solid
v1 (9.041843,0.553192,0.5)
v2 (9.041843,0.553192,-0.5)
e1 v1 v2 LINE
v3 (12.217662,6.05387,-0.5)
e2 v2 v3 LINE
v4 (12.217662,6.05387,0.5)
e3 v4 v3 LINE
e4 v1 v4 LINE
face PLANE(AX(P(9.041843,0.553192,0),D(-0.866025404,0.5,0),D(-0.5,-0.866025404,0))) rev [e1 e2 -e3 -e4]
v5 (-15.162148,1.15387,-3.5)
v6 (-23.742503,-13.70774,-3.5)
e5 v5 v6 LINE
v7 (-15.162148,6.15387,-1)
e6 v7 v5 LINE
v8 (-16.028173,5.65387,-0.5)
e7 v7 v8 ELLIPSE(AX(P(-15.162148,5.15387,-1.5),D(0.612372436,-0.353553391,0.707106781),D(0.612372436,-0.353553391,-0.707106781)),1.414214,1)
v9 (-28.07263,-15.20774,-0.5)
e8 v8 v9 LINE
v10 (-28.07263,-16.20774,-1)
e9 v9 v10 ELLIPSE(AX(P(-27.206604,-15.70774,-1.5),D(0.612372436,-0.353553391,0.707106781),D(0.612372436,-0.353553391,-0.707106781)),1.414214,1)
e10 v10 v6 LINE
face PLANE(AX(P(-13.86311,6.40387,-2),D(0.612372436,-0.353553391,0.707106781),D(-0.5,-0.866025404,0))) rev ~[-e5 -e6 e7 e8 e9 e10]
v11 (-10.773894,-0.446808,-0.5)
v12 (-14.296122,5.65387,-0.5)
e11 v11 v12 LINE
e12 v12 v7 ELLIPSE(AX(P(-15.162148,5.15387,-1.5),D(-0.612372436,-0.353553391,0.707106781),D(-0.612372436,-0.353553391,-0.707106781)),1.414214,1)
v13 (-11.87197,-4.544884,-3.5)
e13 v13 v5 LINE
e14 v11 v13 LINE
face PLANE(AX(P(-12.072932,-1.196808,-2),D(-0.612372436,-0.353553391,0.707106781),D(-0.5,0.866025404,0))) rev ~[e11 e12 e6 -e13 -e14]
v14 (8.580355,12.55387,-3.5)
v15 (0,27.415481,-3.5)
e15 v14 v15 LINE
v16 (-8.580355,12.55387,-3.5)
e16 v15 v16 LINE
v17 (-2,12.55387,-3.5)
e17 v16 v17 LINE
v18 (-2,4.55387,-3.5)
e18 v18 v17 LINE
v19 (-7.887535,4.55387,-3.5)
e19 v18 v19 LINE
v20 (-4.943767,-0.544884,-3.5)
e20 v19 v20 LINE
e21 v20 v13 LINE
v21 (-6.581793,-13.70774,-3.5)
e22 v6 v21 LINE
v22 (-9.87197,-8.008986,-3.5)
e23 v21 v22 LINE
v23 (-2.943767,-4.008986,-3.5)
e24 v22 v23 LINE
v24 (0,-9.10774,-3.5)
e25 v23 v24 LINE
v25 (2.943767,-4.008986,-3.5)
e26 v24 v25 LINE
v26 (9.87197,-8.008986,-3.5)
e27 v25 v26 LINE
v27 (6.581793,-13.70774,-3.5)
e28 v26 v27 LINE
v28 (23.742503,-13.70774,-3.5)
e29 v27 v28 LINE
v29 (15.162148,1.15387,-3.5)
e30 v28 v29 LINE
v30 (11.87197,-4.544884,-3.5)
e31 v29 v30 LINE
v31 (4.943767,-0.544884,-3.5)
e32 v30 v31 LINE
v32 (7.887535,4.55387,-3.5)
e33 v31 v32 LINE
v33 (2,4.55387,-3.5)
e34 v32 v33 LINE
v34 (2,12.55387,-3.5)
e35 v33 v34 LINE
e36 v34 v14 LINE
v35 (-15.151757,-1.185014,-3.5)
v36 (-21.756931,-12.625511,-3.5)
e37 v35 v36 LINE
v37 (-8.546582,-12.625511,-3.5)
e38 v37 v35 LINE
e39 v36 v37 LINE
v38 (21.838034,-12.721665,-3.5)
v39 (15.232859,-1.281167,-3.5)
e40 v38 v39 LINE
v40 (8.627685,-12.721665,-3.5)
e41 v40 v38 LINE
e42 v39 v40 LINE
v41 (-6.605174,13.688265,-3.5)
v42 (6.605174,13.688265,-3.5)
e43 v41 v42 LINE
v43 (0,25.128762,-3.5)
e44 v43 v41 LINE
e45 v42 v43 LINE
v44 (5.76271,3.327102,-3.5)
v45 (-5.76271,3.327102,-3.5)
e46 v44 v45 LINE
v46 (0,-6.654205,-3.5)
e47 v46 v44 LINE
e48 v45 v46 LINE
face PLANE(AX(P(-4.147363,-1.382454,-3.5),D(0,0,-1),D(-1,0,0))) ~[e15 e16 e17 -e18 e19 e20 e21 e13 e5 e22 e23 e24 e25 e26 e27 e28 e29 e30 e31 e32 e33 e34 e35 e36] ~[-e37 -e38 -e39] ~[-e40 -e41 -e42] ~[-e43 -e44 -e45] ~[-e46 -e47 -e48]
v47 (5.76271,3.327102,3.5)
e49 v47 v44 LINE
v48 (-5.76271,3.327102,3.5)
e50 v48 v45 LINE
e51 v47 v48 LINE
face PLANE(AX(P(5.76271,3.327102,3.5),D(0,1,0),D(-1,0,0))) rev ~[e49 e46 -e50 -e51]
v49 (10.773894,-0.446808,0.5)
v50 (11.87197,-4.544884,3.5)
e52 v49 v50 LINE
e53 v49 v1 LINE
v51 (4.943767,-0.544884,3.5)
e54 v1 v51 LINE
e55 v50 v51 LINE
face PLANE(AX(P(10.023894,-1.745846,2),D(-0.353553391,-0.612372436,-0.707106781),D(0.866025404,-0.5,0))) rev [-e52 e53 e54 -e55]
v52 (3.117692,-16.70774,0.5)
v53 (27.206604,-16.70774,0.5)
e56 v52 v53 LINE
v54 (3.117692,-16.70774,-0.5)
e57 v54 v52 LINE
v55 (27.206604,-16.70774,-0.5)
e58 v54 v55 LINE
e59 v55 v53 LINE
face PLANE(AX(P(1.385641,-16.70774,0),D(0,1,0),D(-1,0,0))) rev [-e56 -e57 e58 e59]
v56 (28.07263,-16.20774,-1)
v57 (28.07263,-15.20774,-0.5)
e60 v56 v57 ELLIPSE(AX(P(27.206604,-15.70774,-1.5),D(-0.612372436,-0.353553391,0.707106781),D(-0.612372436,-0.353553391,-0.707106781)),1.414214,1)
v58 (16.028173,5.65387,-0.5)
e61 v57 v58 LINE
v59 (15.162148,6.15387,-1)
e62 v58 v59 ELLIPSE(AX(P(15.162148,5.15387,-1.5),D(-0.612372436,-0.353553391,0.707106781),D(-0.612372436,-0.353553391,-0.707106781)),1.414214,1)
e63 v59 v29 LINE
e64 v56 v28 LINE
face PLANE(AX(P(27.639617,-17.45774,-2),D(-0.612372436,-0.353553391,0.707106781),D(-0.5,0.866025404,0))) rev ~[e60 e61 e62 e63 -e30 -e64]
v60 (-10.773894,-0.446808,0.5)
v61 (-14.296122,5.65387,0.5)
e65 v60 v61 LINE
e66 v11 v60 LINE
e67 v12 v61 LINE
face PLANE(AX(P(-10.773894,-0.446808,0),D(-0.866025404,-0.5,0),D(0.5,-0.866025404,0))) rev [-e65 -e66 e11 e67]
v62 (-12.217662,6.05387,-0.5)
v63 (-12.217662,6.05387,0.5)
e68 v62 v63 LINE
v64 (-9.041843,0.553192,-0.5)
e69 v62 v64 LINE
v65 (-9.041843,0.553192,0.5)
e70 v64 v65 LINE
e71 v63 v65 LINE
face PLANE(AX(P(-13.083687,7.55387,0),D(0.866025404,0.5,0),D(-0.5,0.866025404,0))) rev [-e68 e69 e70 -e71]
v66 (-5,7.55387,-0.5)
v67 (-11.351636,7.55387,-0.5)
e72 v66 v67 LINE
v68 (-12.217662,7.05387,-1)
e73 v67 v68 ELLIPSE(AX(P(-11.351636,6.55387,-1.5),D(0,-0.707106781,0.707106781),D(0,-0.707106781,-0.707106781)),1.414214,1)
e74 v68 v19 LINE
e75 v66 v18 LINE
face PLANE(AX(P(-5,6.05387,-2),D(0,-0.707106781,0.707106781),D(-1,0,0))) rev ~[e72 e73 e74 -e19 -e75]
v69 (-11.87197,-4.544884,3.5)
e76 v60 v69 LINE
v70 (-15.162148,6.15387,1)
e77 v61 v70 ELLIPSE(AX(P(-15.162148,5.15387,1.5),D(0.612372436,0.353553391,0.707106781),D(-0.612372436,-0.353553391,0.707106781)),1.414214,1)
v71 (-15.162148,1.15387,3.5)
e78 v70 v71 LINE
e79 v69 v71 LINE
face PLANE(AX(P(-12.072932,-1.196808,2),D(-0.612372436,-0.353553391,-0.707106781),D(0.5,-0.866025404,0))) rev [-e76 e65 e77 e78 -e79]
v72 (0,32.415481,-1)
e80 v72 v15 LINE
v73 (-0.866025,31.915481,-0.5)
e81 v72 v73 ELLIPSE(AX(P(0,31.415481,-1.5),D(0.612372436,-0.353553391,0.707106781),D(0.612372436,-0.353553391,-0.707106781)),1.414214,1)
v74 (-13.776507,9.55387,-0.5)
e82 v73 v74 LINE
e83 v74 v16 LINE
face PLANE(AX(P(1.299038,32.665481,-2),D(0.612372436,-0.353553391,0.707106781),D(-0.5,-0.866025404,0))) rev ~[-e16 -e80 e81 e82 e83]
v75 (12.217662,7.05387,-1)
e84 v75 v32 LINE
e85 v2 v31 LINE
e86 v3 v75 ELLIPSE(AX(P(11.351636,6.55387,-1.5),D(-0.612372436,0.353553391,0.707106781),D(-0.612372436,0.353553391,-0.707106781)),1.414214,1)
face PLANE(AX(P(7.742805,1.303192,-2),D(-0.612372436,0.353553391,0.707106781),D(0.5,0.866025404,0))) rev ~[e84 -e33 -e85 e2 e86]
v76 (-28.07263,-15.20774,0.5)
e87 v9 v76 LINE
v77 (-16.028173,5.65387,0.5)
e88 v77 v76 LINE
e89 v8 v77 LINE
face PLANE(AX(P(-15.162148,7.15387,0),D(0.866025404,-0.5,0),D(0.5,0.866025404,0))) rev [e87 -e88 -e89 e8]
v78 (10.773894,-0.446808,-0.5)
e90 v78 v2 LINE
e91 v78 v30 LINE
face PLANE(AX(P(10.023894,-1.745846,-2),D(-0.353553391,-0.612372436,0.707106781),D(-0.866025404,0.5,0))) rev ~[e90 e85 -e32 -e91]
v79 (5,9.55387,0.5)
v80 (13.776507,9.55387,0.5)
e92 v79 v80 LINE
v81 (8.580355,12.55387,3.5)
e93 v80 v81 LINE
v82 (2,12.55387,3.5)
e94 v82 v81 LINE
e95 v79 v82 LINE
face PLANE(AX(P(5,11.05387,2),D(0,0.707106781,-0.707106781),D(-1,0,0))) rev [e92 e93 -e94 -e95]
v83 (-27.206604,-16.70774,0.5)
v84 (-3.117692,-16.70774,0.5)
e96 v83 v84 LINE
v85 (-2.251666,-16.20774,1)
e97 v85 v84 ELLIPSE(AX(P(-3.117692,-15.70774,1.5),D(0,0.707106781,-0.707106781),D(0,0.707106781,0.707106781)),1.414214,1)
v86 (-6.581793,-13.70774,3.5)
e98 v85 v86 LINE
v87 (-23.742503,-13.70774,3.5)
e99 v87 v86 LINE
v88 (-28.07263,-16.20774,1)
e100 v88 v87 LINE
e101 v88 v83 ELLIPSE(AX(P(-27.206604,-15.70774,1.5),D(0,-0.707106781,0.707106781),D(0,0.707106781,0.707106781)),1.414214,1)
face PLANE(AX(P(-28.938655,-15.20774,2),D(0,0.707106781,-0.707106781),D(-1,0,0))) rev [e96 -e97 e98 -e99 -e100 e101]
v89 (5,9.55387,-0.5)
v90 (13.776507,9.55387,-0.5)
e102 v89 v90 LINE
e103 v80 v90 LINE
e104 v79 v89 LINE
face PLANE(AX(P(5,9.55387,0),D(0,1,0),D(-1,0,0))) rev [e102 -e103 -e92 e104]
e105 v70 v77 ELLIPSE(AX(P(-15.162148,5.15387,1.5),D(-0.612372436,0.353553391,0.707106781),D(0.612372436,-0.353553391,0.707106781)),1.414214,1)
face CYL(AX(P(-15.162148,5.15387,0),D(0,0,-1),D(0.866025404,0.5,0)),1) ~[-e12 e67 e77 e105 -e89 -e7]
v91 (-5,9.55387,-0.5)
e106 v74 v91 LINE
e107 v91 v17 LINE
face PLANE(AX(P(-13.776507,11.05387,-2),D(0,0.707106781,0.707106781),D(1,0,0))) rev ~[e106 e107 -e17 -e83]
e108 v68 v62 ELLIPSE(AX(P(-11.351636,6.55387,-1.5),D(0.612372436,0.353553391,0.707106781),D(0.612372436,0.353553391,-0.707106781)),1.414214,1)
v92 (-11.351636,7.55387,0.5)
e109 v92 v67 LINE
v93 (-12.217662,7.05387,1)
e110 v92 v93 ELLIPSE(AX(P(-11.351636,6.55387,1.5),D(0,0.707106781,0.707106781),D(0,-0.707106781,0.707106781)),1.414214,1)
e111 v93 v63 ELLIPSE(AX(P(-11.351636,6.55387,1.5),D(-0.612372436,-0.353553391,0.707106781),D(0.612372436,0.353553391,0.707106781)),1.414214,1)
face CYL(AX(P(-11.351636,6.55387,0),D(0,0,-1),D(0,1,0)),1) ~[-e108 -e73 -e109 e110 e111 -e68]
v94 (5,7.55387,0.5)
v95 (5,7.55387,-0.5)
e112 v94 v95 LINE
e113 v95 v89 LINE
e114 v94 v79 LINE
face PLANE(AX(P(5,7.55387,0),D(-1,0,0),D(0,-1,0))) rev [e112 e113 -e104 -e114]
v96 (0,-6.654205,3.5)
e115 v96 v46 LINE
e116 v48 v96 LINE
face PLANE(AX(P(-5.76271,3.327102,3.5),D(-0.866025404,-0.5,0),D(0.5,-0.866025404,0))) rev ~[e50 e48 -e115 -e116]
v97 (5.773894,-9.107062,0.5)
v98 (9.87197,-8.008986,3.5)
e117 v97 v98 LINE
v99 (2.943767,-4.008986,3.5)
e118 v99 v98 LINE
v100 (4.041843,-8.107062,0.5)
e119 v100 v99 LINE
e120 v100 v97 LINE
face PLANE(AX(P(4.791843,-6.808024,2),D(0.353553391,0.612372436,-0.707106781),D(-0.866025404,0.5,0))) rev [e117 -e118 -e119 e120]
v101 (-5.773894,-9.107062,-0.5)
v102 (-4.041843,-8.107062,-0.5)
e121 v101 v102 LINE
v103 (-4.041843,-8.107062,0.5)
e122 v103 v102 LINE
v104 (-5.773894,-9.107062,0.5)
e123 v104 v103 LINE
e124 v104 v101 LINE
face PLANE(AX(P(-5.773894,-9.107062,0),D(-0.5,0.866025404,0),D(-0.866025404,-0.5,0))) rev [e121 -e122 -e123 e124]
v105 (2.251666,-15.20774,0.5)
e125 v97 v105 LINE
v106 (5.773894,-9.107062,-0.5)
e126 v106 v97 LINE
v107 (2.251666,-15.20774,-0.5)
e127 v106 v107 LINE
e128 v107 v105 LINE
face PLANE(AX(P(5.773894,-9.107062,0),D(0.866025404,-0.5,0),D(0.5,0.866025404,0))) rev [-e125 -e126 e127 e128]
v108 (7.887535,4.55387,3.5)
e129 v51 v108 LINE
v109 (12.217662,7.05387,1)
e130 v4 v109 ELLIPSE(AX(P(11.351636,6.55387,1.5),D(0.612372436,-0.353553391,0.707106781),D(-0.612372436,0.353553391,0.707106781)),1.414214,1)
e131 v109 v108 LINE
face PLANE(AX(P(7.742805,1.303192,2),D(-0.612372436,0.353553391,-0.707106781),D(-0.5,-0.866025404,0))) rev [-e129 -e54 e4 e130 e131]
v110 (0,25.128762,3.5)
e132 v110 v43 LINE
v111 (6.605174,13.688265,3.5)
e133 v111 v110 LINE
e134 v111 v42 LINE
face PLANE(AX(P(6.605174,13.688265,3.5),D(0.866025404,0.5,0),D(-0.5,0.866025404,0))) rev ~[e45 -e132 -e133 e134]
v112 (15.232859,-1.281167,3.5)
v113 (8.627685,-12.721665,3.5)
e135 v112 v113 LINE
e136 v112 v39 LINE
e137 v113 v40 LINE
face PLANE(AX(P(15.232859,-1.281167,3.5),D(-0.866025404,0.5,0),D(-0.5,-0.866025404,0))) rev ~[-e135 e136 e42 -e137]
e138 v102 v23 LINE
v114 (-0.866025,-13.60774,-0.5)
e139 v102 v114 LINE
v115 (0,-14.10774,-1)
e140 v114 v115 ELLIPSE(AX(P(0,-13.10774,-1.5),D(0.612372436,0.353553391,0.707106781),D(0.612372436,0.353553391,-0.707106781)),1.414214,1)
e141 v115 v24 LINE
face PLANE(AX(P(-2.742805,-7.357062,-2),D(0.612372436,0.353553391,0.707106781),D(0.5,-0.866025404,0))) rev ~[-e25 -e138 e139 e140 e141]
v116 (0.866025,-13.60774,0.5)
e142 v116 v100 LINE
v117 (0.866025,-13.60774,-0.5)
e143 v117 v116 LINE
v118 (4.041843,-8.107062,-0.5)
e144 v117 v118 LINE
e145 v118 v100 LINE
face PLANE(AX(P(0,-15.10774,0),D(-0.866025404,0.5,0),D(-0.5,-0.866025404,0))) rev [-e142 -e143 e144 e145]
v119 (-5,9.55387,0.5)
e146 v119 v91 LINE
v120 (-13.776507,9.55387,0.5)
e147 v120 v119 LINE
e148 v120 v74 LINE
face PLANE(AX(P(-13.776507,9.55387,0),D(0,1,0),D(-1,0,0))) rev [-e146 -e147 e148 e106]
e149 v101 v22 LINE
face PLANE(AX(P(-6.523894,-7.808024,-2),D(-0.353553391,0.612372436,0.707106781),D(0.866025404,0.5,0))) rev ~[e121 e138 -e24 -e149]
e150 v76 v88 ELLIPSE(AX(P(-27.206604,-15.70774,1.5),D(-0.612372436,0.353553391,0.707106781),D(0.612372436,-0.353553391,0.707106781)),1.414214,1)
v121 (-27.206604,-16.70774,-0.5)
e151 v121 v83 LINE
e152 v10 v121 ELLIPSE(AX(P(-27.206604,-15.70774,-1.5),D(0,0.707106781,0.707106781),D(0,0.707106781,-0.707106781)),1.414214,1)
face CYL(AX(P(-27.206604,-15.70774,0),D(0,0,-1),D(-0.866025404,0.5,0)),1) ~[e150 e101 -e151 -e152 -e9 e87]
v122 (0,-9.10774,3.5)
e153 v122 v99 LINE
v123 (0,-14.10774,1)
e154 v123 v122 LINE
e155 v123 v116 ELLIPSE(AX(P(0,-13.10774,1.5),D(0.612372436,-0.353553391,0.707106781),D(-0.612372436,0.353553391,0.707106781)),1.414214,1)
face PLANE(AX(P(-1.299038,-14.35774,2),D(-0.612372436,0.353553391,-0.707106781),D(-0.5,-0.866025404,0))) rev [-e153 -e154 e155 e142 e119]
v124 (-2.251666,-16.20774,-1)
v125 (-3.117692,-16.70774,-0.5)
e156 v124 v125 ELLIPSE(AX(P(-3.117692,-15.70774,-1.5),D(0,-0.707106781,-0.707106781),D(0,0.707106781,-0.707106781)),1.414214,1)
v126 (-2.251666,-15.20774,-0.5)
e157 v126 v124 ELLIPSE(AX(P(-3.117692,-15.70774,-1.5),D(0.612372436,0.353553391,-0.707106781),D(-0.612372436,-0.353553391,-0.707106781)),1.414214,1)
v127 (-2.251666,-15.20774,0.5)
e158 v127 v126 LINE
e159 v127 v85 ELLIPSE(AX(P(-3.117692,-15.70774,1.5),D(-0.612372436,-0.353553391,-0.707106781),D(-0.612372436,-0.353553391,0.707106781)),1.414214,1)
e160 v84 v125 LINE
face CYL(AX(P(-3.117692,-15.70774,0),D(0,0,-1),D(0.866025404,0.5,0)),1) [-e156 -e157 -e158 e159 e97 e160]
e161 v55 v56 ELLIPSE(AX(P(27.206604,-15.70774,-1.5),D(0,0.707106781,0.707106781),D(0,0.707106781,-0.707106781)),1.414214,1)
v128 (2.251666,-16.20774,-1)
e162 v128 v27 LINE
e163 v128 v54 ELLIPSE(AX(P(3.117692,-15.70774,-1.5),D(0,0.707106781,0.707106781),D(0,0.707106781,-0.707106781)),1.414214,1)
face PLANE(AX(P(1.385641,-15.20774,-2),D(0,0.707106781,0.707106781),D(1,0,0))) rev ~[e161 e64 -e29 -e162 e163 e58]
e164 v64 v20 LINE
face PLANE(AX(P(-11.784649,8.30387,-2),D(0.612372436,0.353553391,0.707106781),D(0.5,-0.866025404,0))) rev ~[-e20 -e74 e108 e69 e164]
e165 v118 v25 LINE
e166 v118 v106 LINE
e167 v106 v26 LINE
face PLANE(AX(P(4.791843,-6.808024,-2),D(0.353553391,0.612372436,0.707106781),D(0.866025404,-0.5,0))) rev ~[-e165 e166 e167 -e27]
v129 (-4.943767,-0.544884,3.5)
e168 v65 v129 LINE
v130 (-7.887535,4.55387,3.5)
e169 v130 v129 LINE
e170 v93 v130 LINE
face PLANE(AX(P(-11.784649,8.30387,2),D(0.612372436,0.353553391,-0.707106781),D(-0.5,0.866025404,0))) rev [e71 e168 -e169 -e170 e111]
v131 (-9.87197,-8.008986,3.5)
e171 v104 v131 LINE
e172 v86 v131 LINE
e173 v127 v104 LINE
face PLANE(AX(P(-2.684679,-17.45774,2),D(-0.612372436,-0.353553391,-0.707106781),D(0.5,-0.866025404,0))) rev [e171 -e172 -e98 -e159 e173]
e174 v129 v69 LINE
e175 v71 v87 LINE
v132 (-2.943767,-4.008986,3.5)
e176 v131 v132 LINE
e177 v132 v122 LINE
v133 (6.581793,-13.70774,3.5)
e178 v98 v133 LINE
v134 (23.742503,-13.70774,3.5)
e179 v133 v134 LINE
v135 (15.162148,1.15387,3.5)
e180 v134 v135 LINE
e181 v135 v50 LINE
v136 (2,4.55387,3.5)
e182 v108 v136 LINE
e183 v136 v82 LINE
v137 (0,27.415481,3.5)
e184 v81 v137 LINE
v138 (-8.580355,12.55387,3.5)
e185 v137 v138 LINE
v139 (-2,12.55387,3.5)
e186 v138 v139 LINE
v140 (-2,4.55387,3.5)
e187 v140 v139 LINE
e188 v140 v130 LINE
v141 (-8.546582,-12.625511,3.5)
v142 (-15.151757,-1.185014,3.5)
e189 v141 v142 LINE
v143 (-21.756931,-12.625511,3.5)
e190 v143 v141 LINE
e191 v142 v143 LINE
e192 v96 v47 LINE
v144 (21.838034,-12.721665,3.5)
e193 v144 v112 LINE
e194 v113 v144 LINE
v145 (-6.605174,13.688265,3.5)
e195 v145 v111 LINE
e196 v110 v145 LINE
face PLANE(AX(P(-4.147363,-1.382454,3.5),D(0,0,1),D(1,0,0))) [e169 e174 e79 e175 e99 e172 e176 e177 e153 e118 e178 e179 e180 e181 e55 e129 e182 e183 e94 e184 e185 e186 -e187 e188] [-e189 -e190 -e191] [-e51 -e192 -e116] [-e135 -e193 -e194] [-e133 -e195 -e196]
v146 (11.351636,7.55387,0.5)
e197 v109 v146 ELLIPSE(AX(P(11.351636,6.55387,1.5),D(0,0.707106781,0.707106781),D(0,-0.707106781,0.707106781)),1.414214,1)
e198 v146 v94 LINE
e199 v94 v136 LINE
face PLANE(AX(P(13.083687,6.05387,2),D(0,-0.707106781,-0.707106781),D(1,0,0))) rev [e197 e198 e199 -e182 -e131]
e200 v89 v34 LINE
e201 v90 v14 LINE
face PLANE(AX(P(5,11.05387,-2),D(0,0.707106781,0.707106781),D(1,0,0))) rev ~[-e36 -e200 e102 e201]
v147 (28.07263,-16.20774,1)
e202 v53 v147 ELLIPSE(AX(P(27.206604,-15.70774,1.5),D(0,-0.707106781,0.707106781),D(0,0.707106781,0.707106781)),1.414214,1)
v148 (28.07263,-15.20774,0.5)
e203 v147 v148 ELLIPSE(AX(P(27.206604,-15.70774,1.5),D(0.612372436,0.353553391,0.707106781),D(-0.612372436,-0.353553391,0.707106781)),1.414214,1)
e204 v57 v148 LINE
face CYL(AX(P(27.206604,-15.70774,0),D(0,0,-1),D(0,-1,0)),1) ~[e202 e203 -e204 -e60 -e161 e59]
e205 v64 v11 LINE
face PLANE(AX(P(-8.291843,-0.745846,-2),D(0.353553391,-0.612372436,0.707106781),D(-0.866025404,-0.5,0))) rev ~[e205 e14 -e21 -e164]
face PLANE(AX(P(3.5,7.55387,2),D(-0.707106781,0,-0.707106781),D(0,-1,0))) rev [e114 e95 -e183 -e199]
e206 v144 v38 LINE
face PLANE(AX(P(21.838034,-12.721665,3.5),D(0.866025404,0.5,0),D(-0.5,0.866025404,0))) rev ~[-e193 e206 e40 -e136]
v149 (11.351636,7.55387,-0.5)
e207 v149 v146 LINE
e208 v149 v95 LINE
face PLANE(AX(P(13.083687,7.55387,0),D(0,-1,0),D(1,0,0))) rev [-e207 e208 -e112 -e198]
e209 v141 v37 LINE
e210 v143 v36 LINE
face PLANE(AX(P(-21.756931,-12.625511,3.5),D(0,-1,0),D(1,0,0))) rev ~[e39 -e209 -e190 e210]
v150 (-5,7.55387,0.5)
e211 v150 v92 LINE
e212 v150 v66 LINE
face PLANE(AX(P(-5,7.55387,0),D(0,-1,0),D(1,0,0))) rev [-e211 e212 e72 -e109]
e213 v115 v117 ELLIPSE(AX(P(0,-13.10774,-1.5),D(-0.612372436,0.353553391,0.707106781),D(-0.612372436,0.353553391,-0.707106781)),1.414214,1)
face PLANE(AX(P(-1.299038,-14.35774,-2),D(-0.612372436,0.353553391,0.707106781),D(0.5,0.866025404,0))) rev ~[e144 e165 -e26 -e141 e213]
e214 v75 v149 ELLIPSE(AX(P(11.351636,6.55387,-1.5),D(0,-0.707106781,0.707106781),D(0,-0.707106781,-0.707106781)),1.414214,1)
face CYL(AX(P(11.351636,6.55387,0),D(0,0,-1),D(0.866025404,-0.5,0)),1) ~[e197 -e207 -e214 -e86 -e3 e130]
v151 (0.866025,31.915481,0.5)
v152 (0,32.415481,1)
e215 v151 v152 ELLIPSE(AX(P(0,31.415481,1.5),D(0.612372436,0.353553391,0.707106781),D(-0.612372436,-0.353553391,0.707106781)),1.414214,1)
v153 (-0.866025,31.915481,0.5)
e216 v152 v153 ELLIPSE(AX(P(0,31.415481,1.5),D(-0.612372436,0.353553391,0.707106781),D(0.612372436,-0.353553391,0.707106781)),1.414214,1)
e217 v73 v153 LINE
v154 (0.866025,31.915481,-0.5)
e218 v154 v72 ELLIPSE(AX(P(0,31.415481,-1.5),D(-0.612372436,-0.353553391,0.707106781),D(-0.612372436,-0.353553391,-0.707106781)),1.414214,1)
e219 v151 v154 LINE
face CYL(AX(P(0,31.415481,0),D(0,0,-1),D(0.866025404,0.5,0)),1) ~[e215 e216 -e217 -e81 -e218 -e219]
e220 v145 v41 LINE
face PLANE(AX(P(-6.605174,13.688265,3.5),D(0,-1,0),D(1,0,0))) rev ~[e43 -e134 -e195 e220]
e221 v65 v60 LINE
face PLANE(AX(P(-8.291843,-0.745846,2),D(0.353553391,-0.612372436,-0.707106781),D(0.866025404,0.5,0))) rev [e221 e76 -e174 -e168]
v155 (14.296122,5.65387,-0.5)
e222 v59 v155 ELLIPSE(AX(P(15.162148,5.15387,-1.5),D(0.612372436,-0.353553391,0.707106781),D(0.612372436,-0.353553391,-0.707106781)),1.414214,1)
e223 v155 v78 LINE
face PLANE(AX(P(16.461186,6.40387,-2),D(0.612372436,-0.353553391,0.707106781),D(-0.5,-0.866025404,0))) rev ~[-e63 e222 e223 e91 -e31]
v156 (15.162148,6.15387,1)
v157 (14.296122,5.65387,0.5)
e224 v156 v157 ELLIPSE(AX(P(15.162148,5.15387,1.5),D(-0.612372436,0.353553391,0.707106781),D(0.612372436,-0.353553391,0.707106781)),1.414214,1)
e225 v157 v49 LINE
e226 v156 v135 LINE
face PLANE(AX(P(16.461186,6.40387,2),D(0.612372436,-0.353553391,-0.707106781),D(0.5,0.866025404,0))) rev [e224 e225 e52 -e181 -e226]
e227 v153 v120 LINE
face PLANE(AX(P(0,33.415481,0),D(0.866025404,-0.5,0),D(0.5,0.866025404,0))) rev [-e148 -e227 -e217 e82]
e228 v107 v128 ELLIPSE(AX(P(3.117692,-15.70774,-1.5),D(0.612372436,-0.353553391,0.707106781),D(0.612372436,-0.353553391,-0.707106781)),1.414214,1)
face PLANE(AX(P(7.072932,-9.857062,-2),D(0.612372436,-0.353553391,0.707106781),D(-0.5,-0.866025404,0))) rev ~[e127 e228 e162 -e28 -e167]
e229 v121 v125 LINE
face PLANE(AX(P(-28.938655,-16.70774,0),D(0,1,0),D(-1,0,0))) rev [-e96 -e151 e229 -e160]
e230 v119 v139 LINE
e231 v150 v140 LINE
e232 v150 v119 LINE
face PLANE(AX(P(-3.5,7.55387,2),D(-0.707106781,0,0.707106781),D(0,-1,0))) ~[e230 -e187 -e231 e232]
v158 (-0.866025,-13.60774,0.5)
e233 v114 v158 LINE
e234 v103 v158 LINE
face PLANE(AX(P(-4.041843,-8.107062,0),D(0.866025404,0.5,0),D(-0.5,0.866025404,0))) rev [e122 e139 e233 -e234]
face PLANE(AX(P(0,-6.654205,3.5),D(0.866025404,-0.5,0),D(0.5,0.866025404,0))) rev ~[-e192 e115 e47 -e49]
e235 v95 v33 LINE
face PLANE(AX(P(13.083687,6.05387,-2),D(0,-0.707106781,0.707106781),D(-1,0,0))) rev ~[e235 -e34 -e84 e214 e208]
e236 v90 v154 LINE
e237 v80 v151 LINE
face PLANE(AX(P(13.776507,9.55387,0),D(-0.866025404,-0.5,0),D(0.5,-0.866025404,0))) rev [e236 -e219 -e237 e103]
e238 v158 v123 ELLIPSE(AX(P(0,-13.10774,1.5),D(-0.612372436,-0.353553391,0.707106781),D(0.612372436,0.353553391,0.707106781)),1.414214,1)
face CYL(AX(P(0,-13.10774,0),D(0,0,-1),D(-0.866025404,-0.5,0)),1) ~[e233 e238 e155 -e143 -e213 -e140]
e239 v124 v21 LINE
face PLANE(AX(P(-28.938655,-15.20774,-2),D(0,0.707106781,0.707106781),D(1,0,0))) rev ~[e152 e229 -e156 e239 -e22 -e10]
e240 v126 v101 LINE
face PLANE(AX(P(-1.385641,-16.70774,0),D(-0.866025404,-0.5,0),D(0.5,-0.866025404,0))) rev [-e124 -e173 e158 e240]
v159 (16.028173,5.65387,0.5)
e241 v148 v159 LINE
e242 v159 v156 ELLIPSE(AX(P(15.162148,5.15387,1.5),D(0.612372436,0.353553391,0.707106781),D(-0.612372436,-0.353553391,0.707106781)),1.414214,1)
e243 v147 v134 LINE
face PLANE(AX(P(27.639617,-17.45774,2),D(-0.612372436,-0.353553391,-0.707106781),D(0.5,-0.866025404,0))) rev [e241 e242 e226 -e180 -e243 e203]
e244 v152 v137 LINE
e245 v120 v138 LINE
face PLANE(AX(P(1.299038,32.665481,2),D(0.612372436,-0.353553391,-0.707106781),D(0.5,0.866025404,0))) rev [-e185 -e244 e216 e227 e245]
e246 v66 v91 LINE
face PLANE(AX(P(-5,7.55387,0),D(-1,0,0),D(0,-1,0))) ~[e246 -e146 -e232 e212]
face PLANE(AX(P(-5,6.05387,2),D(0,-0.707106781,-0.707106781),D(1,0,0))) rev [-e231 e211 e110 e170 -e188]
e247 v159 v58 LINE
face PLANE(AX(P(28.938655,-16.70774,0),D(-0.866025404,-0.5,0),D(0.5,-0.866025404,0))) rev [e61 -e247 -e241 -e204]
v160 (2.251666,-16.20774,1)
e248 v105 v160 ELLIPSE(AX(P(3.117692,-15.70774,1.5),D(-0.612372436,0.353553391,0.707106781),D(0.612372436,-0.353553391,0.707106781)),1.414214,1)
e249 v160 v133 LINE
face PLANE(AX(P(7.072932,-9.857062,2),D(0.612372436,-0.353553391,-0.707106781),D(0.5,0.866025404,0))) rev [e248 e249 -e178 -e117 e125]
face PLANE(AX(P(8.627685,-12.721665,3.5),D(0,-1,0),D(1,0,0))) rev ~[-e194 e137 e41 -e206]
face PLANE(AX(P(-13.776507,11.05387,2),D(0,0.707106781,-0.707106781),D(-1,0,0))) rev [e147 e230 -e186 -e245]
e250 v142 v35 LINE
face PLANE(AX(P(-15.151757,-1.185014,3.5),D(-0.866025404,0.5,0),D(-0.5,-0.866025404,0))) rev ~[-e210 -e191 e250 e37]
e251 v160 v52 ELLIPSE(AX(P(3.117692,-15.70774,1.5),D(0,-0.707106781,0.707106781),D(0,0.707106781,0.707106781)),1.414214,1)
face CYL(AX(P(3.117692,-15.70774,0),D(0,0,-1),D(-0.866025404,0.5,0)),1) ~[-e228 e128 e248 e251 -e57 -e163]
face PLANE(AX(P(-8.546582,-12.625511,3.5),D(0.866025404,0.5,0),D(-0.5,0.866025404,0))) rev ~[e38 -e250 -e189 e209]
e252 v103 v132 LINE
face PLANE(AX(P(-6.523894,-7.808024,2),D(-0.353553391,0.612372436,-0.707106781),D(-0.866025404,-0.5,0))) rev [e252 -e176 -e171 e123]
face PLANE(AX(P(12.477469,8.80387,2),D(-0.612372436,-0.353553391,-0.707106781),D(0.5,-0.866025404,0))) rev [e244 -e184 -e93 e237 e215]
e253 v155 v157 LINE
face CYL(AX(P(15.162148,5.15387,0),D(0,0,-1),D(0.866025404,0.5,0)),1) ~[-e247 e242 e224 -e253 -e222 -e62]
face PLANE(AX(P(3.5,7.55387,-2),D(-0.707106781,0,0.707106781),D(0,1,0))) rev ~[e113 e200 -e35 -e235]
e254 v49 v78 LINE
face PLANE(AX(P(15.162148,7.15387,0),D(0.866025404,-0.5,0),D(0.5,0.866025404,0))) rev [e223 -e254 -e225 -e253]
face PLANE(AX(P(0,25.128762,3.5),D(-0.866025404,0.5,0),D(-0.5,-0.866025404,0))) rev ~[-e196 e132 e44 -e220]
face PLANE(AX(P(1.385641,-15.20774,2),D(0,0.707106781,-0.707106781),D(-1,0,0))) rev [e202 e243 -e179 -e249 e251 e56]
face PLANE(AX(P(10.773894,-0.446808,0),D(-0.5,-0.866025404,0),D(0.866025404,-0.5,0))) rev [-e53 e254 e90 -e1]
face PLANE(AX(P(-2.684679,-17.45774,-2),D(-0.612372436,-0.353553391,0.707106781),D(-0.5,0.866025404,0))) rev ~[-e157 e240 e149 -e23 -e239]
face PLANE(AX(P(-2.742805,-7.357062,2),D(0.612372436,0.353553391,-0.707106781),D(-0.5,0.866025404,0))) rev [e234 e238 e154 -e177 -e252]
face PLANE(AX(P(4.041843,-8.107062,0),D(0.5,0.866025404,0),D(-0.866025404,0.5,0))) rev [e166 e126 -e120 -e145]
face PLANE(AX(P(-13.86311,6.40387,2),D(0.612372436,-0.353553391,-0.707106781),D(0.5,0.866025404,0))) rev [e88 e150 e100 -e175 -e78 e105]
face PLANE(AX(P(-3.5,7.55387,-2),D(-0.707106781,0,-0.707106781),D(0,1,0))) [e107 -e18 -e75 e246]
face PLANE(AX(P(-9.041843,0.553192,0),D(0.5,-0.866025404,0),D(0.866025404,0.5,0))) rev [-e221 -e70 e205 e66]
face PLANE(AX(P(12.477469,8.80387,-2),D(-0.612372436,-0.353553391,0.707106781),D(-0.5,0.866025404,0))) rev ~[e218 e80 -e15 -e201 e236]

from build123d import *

# Parameters (mm, degrees)
F0_W     = 5
F0_H     = 2
F1_DEPTH = 3.5
F2_SIZE  = 3
F3_R     = 1
F6_DEPTH = 9.2


with BuildPart() as f1:
    # F0 (on Top) → F1 (new body)
    with BuildSketch(Plane.XY):
        Polygon((-4.0418434781, -8.107062112), (0, -15.1077403724), (0, 7.5538701862), (-5, 7.5538701862), (-13.0836869563, 7.5538701862), (-9.0418434781, 0.5531919258), (-6.5418434781, -3.7769350931), align=None)
        Polygon((0, 7.5538701862), (0, -15.1077403724), (4.0418434781, -8.107062112), (6.5418434781, -3.7769350931), (9.0418434781, 0.5531919258), (13.0836869563, 7.5538701862), (5, 7.5538701862), align=None)
        Polygon((-10.7738942857, -0.4468080742), (-8.2738942857, -4.7769350931), (-6.5418434781, -3.7769350931), (-9.0418434781, 0.5531919258), align=None)
        Polygon((-8.2738942857, -4.7769350931), (-5.7738942857, -9.107062112), (-4.0418434781, -8.107062112), (-6.5418434781, -3.7769350931), align=None)
        Polygon((8.2738942857, -4.7769350931), (10.7738942857, -0.4468080742), (9.0418434781, 0.5531919258), (6.5418434781, -3.7769350931), align=None)
        Polygon((4.0418434781, -8.107062112), (5.7738942857, -9.107062112), (8.2738942857, -4.7769350931), (6.5418434781, -3.7769350931), align=None)
        with Locations((2.5, 8.5538701862)):
            Rectangle(F0_W, F0_H)
        with Locations((-2.5, 8.5538701862)):
            Rectangle(F0_W, F0_H)
        Polygon((-28.9386550611, -16.7077402895), (-1.3856406939, -16.7077402895), (-5.7738942857, -9.107062112), (-8.2738942857, -4.7769350931), (-10.7738942857, -0.4468080742), (-15.1621478775, 7.1538701033), align=None)
        Polygon((5.7738942857, -9.107062112), (1.3856406939, -16.7077402895), (28.9386550611, -16.7077402895), (15.1621478775, 7.1538701033), (10.7738942857, -0.4468080742), (8.2738942857, -4.7769350931), align=None)
        Polygon((5, 9.5538701862), (13.7765071836, 9.5538701862), (0, 33.415480579), (0, 9.5538701862), align=None)
        Polygon((0, 9.5538701862), (0, 33.415480579), (-13.7765071836, 9.5538701862), (-5, 9.5538701862), align=None)
    extrude(amount=F1_DEPTH)

    # F2
    f2_edges = [f1.edges().sort_by_distance(p)[0] for p in [
        (-11.062765, 4.053531, 3.5),
        (-9.907869, 0.053192, 3.5),
        (-12.968021, 3.353531, 3.5),
        (-22.050401, -4.776935, 3.5),
        (-15.162148, -16.70774, 3.5),
        (-3.579767, -12.907401, 3.5),
        (-4.907869, -8.607062, 3.5),
        (-2.020922, -11.607401, 3.5),
        (2.020922, -11.607401, 3.5),
        (4.907869, -8.607062, 3.5),
        (3.579767, -12.907401, 3.5),
        (15.162148, -16.70774, 3.5),
        (22.050401, -4.776935, 3.5),
        (12.968021, 3.353531, 3.5),
        (9.907869, 0.053192, 3.5),
        (11.062765, 4.053531, 3.5),
        (9.041843, 7.55387, 3.5),
        (5, 8.55387, 3.5),
        (9.388254, 9.55387, 3.5),
        (6.888254, 21.484675, 3.5),
        (-6.888254, 21.484675, 3.5),
        (-9.388254, 9.55387, 3.5),
        (-5, 8.55387, 3.5),
        (-9.041843, 7.55387, 3.5),
    ]]
    chamfer(f2_edges, length=F2_SIZE)

    # F3
    f3_edges = [f1.edges().sort_by_distance(p)[0] for p in [
        (-28.938655, -16.70774, 0.25),
        (28.938655, -16.70774, 0.25),
        (0, 33.415481, 0.25),
        (-15.162148, 7.15387, 0.25),
        (15.162148, 7.15387, 0.25),
        (-1.385641, -16.70774, 0.25),
        (1.385641, -16.70774, 0.25),
        (-13.083687, 7.55387, 0.25),
        (13.083687, 7.55387, 0.25),
        (0, -15.10774, 0.25),
    ]]
    fillet(f3_edges, radius=F3_R)

    # F4: F1 across plane


with BuildPart() as f1_1:
    add(f1.part)
    add(f1.part.mirror(Plane.XY))

    # F5 (on face) → F6 (cut)
    with BuildSketch(Plane.XY.offset(3.5)):
        Polygon((-6.6051743925, 13.6882647859), (6.6051743925, 13.6882647859), (0, 25.1287624265), align=None)
        Polygon((-21.7569312081, -12.6255113644), (-8.5465824232, -12.6255113644), (-15.1517568156, -1.1850137238), align=None)
        Polygon((8.6276847869, -12.7216648323), (21.8380335718, -12.7216648323), (15.2328591794, -1.2811671917), align=None)
        Polygon((-5.7627101947, 3.3271022821), (0, -6.6542045643), (5.7627101947, 3.3271022821), align=None)
    extrude(amount=-F6_DEPTH, mode=Mode.SUBTRACT)


solid = f1_1.part
